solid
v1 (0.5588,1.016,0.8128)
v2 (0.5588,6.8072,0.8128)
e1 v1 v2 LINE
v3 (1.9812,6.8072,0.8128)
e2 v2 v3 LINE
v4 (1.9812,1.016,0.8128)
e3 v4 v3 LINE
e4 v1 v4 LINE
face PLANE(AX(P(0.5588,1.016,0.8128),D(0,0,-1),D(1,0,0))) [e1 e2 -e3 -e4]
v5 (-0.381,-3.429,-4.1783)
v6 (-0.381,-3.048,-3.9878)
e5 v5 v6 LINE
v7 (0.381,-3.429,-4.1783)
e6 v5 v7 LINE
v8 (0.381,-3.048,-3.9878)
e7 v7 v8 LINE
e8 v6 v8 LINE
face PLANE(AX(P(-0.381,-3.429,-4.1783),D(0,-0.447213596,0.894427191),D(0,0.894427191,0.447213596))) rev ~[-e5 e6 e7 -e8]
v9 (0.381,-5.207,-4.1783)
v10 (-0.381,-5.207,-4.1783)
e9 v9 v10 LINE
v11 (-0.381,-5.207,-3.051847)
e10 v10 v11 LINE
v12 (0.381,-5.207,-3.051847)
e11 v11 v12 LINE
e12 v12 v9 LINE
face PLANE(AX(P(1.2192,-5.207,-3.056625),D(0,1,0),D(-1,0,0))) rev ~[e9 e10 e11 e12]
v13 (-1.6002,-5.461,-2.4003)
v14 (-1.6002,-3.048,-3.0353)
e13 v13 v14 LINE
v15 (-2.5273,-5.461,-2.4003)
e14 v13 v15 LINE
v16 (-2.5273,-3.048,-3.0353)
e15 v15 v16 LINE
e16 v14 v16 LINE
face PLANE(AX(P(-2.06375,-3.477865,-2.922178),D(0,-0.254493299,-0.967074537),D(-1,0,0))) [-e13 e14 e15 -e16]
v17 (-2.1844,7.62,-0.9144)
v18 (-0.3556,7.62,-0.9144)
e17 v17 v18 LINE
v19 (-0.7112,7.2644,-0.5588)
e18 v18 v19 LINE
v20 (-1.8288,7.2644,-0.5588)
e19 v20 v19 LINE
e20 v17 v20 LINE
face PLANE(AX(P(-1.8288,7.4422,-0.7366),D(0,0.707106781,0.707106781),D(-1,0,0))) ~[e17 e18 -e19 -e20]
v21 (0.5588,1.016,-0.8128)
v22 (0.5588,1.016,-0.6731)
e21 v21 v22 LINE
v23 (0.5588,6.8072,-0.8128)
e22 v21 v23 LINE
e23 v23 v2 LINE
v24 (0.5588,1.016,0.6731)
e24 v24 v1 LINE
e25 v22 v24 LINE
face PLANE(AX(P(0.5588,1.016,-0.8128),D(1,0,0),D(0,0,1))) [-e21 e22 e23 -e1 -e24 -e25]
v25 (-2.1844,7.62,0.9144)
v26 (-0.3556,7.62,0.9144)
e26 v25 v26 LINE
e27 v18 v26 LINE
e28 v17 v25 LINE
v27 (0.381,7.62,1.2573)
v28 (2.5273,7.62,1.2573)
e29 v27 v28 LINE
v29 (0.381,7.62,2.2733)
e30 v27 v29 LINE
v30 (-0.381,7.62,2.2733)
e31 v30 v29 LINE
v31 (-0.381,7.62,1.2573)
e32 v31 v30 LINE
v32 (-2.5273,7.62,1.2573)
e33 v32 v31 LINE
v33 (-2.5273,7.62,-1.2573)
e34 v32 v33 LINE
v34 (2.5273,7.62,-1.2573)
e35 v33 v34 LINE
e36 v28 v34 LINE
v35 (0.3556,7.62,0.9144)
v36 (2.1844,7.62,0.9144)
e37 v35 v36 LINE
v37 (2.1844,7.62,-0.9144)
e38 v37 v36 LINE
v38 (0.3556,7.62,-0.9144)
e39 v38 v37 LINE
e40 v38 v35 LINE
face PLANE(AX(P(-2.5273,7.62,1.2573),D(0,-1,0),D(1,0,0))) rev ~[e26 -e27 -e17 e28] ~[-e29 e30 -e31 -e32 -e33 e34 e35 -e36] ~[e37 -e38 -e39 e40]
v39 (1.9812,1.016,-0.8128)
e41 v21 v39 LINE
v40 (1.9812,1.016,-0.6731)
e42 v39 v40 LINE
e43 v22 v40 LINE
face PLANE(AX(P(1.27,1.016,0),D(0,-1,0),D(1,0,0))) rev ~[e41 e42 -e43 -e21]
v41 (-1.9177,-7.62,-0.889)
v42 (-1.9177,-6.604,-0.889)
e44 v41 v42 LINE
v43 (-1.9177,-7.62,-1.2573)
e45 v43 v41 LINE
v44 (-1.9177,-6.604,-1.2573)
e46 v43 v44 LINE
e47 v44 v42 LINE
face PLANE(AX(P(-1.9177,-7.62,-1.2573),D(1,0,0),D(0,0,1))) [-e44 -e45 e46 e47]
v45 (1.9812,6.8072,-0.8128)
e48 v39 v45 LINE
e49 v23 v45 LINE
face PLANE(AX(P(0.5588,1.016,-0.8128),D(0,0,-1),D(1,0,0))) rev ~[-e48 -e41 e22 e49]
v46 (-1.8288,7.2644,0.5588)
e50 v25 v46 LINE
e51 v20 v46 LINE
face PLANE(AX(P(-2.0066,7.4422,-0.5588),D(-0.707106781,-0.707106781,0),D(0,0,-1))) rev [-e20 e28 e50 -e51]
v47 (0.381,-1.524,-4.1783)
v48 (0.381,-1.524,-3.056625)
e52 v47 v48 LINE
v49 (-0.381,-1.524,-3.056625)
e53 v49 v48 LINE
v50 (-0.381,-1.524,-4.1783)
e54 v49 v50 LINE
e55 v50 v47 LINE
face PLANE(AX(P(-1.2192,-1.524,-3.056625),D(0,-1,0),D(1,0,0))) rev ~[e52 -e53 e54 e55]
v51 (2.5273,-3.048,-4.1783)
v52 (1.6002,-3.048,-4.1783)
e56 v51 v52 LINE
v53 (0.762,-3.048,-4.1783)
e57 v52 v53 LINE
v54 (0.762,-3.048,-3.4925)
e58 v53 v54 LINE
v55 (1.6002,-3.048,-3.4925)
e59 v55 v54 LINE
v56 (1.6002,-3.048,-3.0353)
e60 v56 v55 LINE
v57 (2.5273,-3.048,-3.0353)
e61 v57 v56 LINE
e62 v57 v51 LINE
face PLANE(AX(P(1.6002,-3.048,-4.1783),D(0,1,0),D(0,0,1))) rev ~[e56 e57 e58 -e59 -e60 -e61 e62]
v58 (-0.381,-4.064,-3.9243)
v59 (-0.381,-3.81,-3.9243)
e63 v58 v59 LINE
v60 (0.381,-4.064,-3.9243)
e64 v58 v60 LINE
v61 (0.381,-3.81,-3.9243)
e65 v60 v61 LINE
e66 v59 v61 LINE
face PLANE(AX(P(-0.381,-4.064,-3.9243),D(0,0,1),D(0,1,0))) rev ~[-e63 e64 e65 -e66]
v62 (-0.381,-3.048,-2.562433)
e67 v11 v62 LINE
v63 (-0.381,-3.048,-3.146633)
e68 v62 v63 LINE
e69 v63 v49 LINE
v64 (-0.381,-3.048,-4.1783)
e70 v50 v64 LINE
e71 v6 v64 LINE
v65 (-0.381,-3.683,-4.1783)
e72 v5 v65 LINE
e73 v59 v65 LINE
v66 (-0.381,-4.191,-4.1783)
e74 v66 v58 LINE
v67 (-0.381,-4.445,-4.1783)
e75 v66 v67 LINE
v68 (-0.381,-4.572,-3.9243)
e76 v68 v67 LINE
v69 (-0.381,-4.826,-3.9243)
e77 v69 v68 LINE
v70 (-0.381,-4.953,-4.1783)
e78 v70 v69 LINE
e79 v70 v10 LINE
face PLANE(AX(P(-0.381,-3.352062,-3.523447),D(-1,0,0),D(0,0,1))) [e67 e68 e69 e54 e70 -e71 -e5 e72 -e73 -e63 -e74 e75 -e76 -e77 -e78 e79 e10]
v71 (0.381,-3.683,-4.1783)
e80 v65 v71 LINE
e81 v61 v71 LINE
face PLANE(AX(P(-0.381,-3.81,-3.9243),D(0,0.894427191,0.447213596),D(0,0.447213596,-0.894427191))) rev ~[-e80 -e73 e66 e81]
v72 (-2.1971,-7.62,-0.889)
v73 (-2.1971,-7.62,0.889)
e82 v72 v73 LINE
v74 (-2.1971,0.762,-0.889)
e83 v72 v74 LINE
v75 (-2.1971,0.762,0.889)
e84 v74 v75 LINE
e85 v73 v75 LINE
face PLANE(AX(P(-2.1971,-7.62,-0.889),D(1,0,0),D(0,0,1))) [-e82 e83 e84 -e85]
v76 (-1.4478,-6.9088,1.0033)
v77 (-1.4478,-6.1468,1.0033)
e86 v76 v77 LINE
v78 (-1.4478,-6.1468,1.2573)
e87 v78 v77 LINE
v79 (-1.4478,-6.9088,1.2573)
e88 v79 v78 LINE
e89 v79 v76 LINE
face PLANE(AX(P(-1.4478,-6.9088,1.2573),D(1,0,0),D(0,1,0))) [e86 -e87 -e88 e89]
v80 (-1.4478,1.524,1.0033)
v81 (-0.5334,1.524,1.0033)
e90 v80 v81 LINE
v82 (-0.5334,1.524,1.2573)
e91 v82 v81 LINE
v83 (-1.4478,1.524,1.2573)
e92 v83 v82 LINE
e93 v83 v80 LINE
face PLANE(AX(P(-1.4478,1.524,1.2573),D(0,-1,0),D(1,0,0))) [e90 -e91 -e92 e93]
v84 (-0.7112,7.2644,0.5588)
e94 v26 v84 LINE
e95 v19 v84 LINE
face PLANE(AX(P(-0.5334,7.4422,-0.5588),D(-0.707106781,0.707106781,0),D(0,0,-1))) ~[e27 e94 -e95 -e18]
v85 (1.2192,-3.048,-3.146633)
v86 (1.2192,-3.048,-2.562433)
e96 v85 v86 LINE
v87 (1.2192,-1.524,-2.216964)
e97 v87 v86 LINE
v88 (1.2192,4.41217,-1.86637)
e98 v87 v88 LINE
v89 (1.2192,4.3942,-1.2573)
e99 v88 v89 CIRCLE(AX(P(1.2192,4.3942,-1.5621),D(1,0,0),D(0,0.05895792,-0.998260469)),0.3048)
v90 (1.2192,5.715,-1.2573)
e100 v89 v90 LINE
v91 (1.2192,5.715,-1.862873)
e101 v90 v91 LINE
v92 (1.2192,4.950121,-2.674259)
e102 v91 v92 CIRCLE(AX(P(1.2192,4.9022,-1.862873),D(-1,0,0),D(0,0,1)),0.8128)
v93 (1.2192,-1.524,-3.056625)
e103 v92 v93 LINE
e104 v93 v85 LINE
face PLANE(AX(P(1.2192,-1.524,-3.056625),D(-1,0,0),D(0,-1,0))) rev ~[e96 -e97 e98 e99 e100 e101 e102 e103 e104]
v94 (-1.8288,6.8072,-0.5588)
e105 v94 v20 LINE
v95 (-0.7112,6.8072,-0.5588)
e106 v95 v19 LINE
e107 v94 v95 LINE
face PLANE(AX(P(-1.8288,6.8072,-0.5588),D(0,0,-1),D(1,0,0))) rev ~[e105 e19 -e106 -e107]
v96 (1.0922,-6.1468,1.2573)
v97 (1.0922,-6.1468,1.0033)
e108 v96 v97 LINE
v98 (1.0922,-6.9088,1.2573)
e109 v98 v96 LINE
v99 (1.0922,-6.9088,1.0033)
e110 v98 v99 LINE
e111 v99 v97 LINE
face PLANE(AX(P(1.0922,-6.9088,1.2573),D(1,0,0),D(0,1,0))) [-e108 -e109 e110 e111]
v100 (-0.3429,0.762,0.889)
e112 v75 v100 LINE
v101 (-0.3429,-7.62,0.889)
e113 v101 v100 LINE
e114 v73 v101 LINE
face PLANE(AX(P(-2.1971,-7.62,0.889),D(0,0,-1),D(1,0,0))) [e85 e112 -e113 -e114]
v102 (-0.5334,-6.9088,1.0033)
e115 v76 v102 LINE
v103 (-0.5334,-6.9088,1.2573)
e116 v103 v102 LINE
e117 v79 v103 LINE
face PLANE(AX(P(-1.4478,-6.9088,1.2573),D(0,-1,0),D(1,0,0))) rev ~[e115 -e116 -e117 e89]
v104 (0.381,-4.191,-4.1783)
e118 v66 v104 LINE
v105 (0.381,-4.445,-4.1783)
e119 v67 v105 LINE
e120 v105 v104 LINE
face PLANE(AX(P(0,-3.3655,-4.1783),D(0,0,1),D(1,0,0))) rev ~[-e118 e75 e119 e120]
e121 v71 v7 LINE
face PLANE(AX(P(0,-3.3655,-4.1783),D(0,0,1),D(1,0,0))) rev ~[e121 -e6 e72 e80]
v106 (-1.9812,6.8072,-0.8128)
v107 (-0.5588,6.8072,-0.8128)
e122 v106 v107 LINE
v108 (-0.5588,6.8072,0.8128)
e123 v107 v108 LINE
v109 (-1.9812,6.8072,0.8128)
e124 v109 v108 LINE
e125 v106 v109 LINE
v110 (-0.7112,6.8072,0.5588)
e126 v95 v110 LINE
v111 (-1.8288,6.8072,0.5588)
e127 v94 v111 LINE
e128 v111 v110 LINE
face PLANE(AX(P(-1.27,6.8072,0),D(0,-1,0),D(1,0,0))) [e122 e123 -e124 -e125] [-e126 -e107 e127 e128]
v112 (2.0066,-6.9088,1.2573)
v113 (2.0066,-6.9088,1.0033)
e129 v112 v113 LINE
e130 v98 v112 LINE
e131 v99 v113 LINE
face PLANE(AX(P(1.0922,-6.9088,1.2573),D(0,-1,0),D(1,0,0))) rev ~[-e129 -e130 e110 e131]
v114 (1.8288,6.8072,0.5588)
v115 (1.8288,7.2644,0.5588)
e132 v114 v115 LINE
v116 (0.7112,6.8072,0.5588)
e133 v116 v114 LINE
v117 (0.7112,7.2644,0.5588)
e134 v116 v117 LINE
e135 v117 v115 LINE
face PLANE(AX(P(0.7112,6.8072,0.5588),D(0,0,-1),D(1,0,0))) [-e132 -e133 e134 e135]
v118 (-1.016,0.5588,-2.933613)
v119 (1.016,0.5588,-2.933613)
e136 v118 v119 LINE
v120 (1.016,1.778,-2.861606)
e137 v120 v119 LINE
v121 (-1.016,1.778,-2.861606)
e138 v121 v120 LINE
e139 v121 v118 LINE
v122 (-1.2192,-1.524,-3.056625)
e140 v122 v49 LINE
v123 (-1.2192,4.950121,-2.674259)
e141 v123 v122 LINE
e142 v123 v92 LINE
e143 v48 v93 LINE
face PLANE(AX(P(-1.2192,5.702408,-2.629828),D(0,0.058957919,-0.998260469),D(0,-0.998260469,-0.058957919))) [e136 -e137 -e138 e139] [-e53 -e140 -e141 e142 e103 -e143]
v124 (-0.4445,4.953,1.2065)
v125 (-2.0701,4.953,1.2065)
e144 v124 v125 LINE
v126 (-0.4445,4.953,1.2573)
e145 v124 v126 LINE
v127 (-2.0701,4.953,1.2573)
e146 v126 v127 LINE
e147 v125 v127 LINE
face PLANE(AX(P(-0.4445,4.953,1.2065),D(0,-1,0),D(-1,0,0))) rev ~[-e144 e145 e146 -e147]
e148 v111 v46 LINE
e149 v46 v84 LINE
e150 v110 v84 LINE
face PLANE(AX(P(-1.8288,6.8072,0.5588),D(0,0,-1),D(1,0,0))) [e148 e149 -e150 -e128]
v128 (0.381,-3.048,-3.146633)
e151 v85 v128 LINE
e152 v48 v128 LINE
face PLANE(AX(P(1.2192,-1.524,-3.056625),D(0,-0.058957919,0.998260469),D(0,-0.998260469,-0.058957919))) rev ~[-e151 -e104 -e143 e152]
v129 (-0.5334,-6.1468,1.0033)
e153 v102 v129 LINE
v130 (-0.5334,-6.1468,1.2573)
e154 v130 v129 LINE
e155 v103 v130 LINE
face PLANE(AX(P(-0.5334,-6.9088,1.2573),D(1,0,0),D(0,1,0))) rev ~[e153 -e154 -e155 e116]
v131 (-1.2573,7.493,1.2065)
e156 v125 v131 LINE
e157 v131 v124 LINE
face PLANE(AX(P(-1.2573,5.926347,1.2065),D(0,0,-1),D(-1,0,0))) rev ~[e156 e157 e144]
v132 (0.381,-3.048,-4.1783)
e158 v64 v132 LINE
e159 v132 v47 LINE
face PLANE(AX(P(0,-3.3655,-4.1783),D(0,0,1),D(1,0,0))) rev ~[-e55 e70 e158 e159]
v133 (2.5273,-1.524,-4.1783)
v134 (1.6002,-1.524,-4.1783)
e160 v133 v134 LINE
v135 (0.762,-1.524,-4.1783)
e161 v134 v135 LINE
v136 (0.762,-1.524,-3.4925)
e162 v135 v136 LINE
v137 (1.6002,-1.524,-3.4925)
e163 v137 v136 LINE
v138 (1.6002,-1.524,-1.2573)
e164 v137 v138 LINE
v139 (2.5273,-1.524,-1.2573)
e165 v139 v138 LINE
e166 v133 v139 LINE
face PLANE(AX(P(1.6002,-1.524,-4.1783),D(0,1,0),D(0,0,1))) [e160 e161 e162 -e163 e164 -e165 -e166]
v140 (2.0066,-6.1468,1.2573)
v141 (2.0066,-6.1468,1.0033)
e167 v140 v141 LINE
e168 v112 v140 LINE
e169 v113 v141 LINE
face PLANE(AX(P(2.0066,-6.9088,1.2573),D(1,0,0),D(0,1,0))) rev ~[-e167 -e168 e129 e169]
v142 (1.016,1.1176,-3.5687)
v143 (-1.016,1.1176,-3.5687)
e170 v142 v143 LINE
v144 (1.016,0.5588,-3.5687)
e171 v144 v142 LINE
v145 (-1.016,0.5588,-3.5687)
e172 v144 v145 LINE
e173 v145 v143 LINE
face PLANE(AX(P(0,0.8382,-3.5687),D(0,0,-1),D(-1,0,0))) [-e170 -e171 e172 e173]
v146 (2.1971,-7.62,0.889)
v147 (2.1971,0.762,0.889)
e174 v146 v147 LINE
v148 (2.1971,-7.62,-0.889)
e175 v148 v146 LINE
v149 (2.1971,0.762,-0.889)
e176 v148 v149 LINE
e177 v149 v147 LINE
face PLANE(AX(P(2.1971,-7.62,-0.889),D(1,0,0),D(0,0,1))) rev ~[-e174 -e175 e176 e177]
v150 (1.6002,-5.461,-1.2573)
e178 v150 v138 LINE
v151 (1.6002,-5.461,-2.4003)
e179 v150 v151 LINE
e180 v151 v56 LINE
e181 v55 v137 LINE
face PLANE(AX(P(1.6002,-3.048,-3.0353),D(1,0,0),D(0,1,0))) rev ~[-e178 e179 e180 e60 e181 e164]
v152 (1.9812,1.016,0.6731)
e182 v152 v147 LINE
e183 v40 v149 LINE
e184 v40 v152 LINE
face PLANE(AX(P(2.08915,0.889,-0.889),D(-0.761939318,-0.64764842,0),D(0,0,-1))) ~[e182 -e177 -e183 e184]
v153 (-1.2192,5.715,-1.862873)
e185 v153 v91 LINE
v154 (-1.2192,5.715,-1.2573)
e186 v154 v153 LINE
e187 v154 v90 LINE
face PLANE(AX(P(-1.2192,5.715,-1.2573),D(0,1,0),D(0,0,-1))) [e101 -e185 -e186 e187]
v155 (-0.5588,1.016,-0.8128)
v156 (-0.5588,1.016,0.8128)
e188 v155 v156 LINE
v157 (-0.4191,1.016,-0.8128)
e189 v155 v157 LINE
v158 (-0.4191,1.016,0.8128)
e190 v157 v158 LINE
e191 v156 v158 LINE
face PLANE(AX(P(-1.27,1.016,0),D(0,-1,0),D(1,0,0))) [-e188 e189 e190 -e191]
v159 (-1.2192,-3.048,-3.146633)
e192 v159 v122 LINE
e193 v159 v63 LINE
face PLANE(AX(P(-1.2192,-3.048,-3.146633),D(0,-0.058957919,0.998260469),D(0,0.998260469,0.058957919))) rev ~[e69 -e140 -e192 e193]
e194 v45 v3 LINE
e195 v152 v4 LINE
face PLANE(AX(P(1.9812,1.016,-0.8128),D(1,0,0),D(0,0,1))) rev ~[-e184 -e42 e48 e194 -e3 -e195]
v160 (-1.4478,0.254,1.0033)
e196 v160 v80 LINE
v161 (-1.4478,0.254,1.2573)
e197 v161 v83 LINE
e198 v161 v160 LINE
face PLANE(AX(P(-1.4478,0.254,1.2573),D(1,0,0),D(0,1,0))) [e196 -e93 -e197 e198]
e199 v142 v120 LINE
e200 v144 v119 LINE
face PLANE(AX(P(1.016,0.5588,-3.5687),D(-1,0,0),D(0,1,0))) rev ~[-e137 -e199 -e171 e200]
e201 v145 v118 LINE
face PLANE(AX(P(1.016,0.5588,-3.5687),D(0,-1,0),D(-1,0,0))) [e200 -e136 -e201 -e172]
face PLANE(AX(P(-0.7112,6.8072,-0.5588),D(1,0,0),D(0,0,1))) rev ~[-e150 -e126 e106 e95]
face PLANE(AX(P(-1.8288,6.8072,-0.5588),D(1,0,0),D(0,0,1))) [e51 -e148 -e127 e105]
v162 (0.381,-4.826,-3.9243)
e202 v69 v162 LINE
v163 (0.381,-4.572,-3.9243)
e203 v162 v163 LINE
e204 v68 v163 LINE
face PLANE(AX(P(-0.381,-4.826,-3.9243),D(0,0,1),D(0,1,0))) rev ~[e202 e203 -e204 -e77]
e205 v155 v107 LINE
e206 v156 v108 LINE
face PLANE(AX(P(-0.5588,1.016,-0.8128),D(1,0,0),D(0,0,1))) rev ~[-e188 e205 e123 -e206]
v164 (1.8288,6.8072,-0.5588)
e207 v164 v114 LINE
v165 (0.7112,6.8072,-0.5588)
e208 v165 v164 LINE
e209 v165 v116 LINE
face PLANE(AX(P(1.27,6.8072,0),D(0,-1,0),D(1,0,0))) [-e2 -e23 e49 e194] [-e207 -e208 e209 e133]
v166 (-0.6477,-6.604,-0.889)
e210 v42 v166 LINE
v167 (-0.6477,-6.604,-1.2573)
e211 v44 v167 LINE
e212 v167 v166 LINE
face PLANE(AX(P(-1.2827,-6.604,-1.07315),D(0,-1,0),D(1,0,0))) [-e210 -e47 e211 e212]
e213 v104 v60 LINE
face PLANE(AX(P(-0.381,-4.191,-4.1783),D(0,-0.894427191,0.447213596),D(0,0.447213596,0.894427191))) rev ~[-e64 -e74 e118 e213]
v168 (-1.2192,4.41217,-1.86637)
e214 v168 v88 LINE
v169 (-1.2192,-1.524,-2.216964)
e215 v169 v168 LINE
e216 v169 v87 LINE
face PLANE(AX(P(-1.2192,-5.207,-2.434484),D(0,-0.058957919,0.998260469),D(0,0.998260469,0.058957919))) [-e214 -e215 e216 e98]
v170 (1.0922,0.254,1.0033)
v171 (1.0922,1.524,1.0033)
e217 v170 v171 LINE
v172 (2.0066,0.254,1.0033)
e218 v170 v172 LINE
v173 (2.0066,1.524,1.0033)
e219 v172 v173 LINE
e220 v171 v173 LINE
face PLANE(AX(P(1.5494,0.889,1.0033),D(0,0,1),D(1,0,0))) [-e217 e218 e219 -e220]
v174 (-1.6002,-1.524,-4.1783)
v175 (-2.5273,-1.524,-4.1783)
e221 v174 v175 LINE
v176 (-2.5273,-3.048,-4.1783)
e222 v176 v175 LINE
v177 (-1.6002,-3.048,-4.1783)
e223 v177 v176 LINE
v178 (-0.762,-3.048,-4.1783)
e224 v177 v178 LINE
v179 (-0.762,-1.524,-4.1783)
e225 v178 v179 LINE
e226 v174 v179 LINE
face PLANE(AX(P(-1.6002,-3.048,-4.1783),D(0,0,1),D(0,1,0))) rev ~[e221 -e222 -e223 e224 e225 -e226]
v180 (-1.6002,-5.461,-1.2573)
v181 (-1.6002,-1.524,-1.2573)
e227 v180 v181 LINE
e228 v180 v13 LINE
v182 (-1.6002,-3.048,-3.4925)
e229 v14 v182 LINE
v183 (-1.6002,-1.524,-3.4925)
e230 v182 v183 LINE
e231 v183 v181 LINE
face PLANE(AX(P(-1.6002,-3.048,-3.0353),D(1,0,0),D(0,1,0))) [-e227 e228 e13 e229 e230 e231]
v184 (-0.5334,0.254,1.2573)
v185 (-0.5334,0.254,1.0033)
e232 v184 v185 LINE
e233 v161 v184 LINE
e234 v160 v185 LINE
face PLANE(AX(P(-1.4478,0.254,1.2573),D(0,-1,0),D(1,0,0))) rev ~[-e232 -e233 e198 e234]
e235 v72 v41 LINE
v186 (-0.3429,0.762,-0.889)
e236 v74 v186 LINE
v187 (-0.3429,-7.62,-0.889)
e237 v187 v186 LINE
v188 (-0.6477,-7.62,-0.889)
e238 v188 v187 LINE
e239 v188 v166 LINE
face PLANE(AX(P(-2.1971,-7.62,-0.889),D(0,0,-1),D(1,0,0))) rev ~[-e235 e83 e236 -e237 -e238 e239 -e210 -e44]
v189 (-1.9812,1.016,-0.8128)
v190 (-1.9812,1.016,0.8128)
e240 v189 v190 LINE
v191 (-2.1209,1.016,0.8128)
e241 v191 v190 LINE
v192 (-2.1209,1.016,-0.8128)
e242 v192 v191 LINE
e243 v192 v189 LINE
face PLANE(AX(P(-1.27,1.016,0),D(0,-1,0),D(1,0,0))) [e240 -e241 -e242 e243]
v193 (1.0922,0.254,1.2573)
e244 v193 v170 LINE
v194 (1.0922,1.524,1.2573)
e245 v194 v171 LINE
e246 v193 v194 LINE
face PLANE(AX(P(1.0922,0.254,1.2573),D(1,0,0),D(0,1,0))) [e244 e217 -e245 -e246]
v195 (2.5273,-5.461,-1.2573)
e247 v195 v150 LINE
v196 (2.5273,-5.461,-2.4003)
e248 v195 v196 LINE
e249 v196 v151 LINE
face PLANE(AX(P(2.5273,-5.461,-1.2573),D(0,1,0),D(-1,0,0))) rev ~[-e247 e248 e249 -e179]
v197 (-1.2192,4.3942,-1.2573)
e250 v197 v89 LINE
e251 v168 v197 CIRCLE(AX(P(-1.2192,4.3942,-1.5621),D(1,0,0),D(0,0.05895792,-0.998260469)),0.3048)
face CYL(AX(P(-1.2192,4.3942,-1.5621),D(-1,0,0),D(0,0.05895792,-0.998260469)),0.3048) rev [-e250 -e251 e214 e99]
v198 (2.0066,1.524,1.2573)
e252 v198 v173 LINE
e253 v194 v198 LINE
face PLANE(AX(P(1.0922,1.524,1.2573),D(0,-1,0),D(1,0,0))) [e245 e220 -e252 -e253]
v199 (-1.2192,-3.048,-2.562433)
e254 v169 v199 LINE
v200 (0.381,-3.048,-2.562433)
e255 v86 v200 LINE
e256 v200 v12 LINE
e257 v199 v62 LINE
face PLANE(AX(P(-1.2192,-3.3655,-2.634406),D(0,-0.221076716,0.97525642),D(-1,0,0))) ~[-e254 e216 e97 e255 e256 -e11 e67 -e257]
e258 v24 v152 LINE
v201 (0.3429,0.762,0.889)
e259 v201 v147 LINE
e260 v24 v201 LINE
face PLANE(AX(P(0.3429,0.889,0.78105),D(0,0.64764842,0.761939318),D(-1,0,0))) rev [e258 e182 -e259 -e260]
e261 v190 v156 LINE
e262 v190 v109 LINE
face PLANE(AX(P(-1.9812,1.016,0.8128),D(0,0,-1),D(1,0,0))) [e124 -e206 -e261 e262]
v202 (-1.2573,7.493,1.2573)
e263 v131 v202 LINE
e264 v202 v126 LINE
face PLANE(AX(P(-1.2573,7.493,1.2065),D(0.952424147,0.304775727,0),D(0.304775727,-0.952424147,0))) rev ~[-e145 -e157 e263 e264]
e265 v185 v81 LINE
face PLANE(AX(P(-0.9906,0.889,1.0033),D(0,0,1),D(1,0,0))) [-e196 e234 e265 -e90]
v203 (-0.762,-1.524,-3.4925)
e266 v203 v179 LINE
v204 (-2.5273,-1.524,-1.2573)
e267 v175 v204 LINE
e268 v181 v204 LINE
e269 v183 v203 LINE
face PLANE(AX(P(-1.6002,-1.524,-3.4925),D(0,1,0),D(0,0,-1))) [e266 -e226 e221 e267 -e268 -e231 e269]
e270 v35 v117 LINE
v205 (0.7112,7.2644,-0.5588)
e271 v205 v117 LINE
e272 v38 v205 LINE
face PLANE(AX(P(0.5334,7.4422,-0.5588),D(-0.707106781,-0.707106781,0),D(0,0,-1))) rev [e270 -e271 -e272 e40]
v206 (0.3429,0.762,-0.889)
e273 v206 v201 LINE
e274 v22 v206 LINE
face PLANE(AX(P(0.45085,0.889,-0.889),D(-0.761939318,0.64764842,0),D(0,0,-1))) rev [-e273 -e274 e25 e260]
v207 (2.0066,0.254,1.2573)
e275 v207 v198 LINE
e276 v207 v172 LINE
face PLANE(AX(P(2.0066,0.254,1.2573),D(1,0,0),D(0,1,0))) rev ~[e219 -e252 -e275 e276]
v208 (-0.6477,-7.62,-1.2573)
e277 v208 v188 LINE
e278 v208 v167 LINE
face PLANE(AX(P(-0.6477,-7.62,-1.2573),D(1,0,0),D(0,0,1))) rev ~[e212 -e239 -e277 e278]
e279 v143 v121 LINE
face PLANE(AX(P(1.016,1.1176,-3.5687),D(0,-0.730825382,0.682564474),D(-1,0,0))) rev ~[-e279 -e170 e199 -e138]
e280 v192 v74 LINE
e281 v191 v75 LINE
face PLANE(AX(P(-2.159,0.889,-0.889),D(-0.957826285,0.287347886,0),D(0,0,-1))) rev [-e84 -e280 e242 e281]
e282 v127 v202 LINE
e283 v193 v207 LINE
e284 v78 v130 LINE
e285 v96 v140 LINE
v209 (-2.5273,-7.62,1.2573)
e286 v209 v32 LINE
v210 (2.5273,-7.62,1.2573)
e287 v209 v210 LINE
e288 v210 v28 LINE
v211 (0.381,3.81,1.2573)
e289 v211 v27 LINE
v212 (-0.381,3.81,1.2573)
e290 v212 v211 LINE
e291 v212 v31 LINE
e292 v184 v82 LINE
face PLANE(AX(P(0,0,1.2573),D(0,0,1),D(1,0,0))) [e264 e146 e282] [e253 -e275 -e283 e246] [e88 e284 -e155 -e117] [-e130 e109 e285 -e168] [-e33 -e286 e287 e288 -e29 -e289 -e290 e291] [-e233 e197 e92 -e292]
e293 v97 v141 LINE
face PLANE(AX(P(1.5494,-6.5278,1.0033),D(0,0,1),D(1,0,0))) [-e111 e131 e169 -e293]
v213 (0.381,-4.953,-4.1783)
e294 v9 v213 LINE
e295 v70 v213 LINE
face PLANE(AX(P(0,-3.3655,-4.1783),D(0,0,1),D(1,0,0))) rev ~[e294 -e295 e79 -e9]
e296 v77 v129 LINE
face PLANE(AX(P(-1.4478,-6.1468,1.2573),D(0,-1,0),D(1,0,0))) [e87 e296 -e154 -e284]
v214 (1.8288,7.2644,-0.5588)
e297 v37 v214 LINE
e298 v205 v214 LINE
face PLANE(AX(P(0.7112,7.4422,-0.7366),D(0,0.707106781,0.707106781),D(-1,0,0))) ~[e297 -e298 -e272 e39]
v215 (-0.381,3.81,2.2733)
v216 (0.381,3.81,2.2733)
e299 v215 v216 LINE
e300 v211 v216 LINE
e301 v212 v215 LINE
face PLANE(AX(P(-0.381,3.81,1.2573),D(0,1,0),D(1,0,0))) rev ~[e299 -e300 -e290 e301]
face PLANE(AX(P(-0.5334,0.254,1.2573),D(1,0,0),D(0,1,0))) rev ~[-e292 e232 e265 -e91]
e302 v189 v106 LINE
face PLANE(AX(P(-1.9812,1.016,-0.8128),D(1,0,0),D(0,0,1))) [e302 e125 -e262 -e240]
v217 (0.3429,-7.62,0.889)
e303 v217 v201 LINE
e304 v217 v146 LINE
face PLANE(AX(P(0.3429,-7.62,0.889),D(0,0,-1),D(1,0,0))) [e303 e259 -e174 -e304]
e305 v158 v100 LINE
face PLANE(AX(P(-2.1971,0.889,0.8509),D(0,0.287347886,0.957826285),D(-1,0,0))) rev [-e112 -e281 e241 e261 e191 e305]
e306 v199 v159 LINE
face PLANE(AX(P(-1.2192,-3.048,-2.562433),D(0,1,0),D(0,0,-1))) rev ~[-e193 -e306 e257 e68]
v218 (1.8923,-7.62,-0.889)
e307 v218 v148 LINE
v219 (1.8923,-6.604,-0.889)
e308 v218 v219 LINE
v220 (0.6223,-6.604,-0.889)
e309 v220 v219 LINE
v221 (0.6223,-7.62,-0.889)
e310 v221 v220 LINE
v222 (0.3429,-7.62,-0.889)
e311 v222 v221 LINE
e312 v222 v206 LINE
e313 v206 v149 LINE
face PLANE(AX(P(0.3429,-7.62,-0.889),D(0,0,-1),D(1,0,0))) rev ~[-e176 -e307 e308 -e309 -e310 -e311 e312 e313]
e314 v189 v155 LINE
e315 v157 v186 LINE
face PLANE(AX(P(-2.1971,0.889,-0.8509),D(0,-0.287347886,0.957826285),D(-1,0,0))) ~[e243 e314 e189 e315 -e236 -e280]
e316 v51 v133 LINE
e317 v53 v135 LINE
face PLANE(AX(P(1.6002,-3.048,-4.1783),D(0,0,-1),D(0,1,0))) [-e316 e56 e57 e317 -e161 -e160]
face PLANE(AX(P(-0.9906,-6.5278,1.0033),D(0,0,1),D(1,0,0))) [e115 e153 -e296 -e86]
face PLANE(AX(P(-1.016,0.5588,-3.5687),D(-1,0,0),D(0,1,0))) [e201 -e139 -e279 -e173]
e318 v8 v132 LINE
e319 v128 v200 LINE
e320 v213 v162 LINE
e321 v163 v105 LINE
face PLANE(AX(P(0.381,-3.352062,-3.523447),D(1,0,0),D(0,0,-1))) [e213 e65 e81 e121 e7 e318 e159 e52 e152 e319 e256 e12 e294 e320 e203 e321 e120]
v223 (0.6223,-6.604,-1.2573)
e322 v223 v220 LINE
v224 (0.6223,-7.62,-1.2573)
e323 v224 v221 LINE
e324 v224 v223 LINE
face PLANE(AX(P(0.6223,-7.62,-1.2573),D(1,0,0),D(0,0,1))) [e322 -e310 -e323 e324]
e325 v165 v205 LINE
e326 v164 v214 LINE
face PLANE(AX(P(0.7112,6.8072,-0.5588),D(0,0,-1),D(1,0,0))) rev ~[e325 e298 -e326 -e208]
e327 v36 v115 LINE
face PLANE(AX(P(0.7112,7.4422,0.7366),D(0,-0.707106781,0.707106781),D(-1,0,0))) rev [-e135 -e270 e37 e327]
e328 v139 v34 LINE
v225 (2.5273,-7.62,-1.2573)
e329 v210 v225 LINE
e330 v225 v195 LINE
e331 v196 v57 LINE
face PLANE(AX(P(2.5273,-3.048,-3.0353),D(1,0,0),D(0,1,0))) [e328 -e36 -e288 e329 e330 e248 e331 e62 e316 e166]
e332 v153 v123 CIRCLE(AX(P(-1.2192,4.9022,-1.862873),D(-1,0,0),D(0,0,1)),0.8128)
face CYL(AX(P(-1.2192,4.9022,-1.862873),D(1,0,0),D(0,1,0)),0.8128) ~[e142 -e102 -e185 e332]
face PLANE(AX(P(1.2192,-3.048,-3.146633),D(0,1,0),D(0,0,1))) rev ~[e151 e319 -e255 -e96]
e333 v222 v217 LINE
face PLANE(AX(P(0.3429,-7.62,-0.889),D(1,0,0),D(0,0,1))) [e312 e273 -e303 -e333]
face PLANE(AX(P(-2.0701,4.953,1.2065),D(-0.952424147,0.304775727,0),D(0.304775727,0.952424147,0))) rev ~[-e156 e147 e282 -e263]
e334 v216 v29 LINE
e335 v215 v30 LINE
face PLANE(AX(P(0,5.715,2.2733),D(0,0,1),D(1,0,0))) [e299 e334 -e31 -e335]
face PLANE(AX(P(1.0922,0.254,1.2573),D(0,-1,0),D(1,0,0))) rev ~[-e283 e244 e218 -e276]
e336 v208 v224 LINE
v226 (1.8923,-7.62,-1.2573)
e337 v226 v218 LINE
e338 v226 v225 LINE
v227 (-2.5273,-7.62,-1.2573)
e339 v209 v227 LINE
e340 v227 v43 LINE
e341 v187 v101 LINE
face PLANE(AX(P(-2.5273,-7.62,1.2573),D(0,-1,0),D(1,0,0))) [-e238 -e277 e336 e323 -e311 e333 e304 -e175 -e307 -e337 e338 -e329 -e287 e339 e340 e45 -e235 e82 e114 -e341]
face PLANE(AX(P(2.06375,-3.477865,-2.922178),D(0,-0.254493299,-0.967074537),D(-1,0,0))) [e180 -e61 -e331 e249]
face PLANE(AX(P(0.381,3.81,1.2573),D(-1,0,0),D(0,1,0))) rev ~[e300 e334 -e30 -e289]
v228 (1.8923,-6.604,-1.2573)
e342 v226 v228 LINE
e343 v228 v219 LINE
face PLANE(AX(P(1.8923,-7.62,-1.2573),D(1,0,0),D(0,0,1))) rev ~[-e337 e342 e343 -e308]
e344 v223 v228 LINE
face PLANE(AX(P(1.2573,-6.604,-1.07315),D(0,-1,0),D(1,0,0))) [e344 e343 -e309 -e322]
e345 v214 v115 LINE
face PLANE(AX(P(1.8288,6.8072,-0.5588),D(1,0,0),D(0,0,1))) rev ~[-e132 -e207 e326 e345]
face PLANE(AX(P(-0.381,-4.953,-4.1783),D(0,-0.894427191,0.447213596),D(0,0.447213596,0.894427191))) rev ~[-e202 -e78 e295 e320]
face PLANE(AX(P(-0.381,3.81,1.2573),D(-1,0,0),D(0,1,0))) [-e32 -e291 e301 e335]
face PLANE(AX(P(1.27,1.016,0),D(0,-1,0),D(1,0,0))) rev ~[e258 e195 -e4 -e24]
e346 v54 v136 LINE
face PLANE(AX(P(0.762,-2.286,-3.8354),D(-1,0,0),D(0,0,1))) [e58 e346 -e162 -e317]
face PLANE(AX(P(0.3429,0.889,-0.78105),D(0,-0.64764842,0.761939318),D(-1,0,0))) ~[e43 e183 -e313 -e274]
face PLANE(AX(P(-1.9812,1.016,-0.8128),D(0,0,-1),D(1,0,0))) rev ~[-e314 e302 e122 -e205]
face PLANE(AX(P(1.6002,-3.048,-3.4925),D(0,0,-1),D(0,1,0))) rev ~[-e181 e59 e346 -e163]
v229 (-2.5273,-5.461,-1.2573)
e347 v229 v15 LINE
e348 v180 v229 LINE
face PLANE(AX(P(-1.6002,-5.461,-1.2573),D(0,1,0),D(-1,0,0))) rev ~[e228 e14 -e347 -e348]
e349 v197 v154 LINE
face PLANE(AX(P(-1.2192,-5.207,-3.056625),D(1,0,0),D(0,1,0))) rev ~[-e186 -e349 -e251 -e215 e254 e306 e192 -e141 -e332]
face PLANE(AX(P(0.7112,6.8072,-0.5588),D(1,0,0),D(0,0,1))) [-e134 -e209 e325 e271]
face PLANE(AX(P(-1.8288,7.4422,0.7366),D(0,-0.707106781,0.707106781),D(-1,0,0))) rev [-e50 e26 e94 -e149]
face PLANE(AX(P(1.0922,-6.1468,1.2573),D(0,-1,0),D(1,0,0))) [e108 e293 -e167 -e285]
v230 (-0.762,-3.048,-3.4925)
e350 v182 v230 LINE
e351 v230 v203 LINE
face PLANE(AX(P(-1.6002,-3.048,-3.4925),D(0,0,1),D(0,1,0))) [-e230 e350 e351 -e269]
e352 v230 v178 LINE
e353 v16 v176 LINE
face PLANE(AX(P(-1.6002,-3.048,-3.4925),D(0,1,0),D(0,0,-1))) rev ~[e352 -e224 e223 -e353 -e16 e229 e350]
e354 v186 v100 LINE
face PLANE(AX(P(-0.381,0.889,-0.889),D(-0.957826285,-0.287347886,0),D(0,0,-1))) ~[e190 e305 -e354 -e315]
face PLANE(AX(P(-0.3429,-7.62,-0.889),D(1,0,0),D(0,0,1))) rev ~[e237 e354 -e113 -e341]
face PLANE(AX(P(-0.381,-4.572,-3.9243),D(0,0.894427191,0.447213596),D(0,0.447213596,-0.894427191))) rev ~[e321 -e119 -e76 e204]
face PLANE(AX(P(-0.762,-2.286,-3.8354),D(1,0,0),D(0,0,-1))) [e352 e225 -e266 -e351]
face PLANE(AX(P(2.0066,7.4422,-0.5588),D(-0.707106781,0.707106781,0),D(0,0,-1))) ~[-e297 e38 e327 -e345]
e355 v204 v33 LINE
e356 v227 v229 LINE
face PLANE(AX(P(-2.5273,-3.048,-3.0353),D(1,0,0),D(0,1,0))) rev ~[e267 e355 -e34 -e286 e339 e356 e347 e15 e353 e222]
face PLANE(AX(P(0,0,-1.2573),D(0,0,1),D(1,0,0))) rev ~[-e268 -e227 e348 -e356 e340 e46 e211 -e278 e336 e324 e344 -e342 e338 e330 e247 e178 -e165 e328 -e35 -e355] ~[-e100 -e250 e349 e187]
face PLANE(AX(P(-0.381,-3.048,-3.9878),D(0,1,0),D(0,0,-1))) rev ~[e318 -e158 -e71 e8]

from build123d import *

# Parameters (mm, degrees)
SKETCH1_W            = 5.0546
SKETCH1_H            = 15.24
BOSS_EXTRUDE1_DEPTH  = 2.514600001
CUT_EXTRUDE1_REACH   = 2.051
BOSS_EXTRUDE2_DEPTH  = 2.4384
CHAMFER1_SIZE        = 3.689417857
CHAMFER1_SIZE2       = 0.617363155
BOSS_EXTRUDE3_DEPTH  = 1.121675474
DRAFT1_ANGLE         = 3.38
FILLET1_R            = 0.8128
CUT_EXTRUDE2_DEPTH   = 0.8382
CUT_EXTRUDE3_DEPTH   = 0.8382
BOSS_EXTRUDE4_REACH  = 6.826
SKETCH7_W            = 2.032
SKETCH7_H            = 0.5588
DRAFT2_ANGLE         = 43.044366599
SKETCH8_W            = 0.9271
SKETCH8_H            = 3.937
BOSS_EXTRUDE5_DEPTH  = 1.778
SKETCH9_W            = 0.9271
SKETCH9_H            = 3.937
BOSS_EXTRUDE6_DEPTH  = 1.778
SKETCH10_W           = 0.9271
SKETCH10_H           = 1.524
BOSS_EXTRUDE7_DEPTH  = 1.143
SKETCH11_W           = 0.9271
SKETCH11_H           = 1.524
BOSS_EXTRUDE8_DEPTH  = 1.143
SKETCH12_W           = 0.6858
SKETCH12_H           = 1.524
BOSS_EXTRUDE9_DEPTH  = 0.8382
SKETCH13_W           = 0.6858
SKETCH13_H           = 1.524
BOSS_EXTRUDE10_DEPTH = 0.8382
DRAFT3_ANGLE         = 14.743562836
DRAFT4_ANGLE         = 14.743562836
CUT_EXTRUDE4_DEPTH   = 0.762
CUT_EXTRUDE5_DEPTH   = 0.762
CUT_EXTRUDE6_DEPTH   = 0.762
SKETCH17_W           = 0.762
SKETCH17_H           = 3.81
BOSS_EXTRUDE11_DEPTH = 1.016
SKETCH18_W           = 0.9144
SKETCH18_H           = 1.27
CUT_EXTRUDE7_DEPTH   = 0.254
SKETCH19_W           = 0.9144
SKETCH19_H           = 0.762
CUT_EXTRUDE8_DEPTH   = 0.254
SKETCH20_W           = 0.9144
SKETCH20_H           = 1.27
CUT_EXTRUDE9_DEPTH   = 0.254
SKETCH21_W           = 0.9144
SKETCH21_H           = 0.762
CUT_EXTRUDE10_DEPTH  = 0.254
SKETCH22_W           = 1.8542
SKETCH22_H           = 1.778
CUT_EXTRUDE11_DEPTH  = 8.636
SKETCH23_W           = 1.8542
SKETCH23_H           = 1.778
CUT_EXTRUDE12_DEPTH  = 8.636
CHAMFER2_SIZE        = 0.0762
CHAMFER2_SIZE2       = 0.254
CHAMFER3_SIZE        = 0.2159
CHAMFER3_SIZE2       = 0.254
SKETCH24_W           = 1.27
SKETCH24_H           = 0.3683
CUT_EXTRUDE13_DEPTH  = 1.016
SKETCH25_W           = 1.27
SKETCH25_H           = 0.3683
CUT_EXTRUDE14_DEPTH  = 1.016
SKETCH26_W           = 1.4224
SKETCH26_H           = 1.6256
CUT_EXTRUDE15_DEPTH  = 5.7912
SKETCH27_W           = 1.4224
SKETCH27_H           = 1.6256
CUT_EXTRUDE16_DEPTH  = 5.7912
SKETCH28_W           = 1.1176
SKETCH28_H           = 1.1176
CUT_EXTRUDE17_DEPTH  = 1.8128
SKETCH29_W           = 1.1176
SKETCH29_H           = 1.1176
CUT_EXTRUDE18_DEPTH  = 1.8128
CHAMFER4_SIZE        = 0.3556
CHAMFER5_SIZE        = 0.3556


with BuildPart() as part:
    # Sketch1 → Boss-Extrude1 (new body)
    with BuildSketch(Plane.XY.offset(1.2573)):
        Rectangle(SKETCH1_W, SKETCH1_H)
    extrude(amount=-BOSS_EXTRUDE1_DEPTH)

    # Sketch2 → Cut-Extrude1 (cut, up to next)
    with BuildSketch(Plane(origin=(0, 0, 1.2065), x_dir=(-1, 0, 0), z_dir=(0, 0, -1)), mode=Mode.PRIVATE) as cut_extrude1_sk1:
        Polygon((0.4445, 4.953), (2.0701, 4.953), (1.2573, 7.493), align=None)
    cut_extrude1_tool1 = extrude(cut_extrude1_sk1.sketch, amount=-CUT_EXTRUDE1_REACH, mode=Mode.PRIVATE) & part.part
    add(cut_extrude1_tool1.solids().sort_by_distance((-1.2573, 5.799667, 1.2065))[0], mode=Mode.SUBTRACT)

    # Sketch3 → Boss-Extrude2 (add)
    with BuildSketch(Plane(origin=(-1.2192, 0, 0), x_dir=(0, -1, 0), z_dir=(-1, 0, 0))):
        with BuildLine():
            Line((5.207, -2.434484307), (-4.412170374, -1.866369791))
            ThreePointArc((-4.412170374, -1.866369791), (-4.698867419, -1.553110903), (-4.394200001, -1.2573))
            Line((-4.394200001, -1.2573), (-5.715, -1.2573))
            Line((-5.715, -1.2573), (-5.715, -3.056624526))
            Line((-5.715, -3.056624526), (3.048, -3.056624526))
            Line((3.048, -3.056624526), (3.429, -3.056624526))
            Line((3.429, -3.056624526), (3.683, -3.056624526))
            Line((3.683, -3.056624526), (4.191, -3.056624526))
            Line((4.191, -3.056624526), (4.445, -3.056624526))
            Line((4.445, -3.056624526), (4.953, -3.056624526))
            Line((4.953, -3.056624526), (5.207, -3.056624526))
            Line((5.207, -3.056624526), (5.207, -2.434484307))
        make_face()
    extrude(amount=-BOSS_EXTRUDE2_DEPTH)

    # Chamfer1
    chamfer1_edges = [part.edges().sort_by_distance(p)[0] for p in [
        (0, -5.207, -2.434484307),
    ]]
    chamfer1_side = [part.faces().sort_by_distance(p)[0] for p in [
        (0, -0.397414813, -2.150427049),
    ]]
    chamfer(chamfer1_edges, length=CHAMFER1_SIZE, length2=CHAMFER1_SIZE2, reference=chamfer1_side[0])

    # Sketch4 → Boss-Extrude3 (add)
    with BuildSketch(Plane(origin=(0, 0, -3.056624526), x_dir=(-1, 0, 0), z_dir=(0, 0, -1))):
        Polygon((1.2192, -3.683000003), (1.2192, -4.191000003), (1.2192, -4.445000003), (1.2192, -4.953000003), (1.2192, -5.207000003), (0.381, -5.207000003), (-0.381, -5.207000003), (-1.2192, -5.207000003), (-1.2192, -4.953000003), (-1.2192, -4.445000003), (-1.2192, -4.191000003), (-1.2192, -3.683000003), (-1.2192, -3.429000003), (-1.2192, -3.048000003), (-1.2192, -1.524000003), (-0.381, -1.524000003), (0.381, -1.524000003), (1.2192, -1.524000003), (1.2192, -3.048000003), (1.2192, -3.429000003), align=None)
    extrude(amount=BOSS_EXTRUDE3_DEPTH)

    # Draft1
    draft1_faces = [part.faces().sort_by_distance(p)[0] for p in [
        (0, 2.095499999, -3.056624526),
    ]]
    draft(draft1_faces, Plane(origin=(1.2192, -1.524000003, -4.1783), x_dir=(1, 0, 0), z_dir=(0, 1, 0)), DRAFT1_ANGLE)

    # Fillet1
    fillet1_edges = [part.edges().sort_by_distance(p)[0] for p in [
        (0, 5.715, -2.629084434),
    ]]
    fillet(fillet1_edges, radius=FILLET1_R)

    # Sketch5 → Cut-Extrude2 (cut)
    with BuildSketch(Plane.ZY.offset(1.2192)):
        Polygon((-4.1783, -1.523999999), (-4.1783, -3.048), (-4.1783, -3.429), (-4.1783, -3.683), (-4.1783, -4.191), (-4.1783, -4.445), (-4.1783, -4.953), (-4.1783, -5.207), (-3.051847462, -5.207), (-2.562432966, -3.048), (-3.146632966, -3.048), (-3.056624525, -1.523999999), align=None)
    extrude(amount=-CUT_EXTRUDE2_DEPTH, mode=Mode.SUBTRACT)

    # Sketch6 → Cut-Extrude3 (cut)
    with BuildSketch(Plane(origin=(1.2192, 0, 0), x_dir=(0, 0, -1), z_dir=(1, 0, 0))):
        Polygon((4.1783, -3.429), (4.1783, -3.048), (4.1783, -1.524000001), (3.056624525, -1.524000001), (3.146632966, -3.048), (2.562432966, -3.048), (3.051847462, -5.207), (4.1783, -5.207), (4.1783, -4.953), (4.1783, -4.445), (4.1783, -4.191), (4.1783, -3.683), align=None)
    extrude(amount=-CUT_EXTRUDE3_DEPTH, mode=Mode.SUBTRACT)

    # Sketch7 → Boss-Extrude4 (add, up to next)
    with BuildSketch(Plane(origin=(0, 0, -3.5687), x_dir=(-1, 0, 0), z_dir=(0, 0, -1)), mode=Mode.PRIVATE) as boss_extrude4_sk1:
        with Locations((0, 0.8382)):
            Rectangle(SKETCH7_W, SKETCH7_H)
    boss_extrude4_tool1 = extrude(boss_extrude4_sk1.sketch, amount=-BOSS_EXTRUDE4_REACH, mode=Mode.PRIVATE) - part.part
    add(boss_extrude4_tool1.solids().sort_by_distance((0, 0.8382, -3.5687))[0])

    # Draft2
    draft2_faces = [part.faces().sort_by_distance(p)[0] for p in [
        (0, 1.1176, -3.234654948),
    ]]
    draft(draft2_faces, Plane(origin=(0, 0, -3.5687), x_dir=(-1, 0, 0), z_dir=(0, 0, -1)), DRAFT2_ANGLE)

    # Sketch8 → Boss-Extrude5 (add)
    with BuildSketch(Plane(origin=(0, 0, -1.257300001), x_dir=(-1, 0, 0), z_dir=(0, 0, -1))):
        with Locations((-2.06375, -3.4925)):
            Rectangle(SKETCH8_W, SKETCH8_H)
    extrude(amount=BOSS_EXTRUDE5_DEPTH)

    # Sketch9 → Boss-Extrude6 (add)
    with BuildSketch(Plane(origin=(0, 0, -1.257300001), x_dir=(-1, 0, 0), z_dir=(0, 0, -1))):
        with Locations((2.06375, -3.4925)):
            Rectangle(SKETCH9_W, SKETCH9_H)
    extrude(amount=BOSS_EXTRUDE6_DEPTH)

    # Sketch10 → Boss-Extrude7 (add)
    with BuildSketch(Plane(origin=(0, 0, -3.035300001), x_dir=(-1, 0, 0), z_dir=(0, 0, -1))):
        with Locations((2.06375, -2.286)):
            Rectangle(SKETCH10_W, SKETCH10_H)
    extrude(amount=BOSS_EXTRUDE7_DEPTH)

    # Sketch11 → Boss-Extrude8 (add)
    with BuildSketch(Plane(origin=(0, 0, -3.035300001), x_dir=(-1, 0, 0), z_dir=(0, 0, -1))):
        with Locations((-2.06375, -2.286)):
            Rectangle(SKETCH11_W, SKETCH11_H)
    extrude(amount=BOSS_EXTRUDE8_DEPTH)

    # Sketch12 → Boss-Extrude9 (add)
    with BuildSketch(Plane.ZY.offset(-1.6002)):
        with Locations((-3.8354, -2.286)):
            Rectangle(SKETCH12_W, SKETCH12_H)
    extrude(amount=BOSS_EXTRUDE9_DEPTH)

    # Sketch13 → Boss-Extrude10 (add)
    with BuildSketch(Plane(origin=(-1.6002, 0, 0), x_dir=(0, 0, -1), z_dir=(1, 0, 0))):
        with Locations((3.8354, -2.286)):
            Rectangle(SKETCH13_W, SKETCH13_H)
    extrude(amount=BOSS_EXTRUDE10_DEPTH)

    # Draft3
    draft3_faces = [part.faces().sort_by_distance(p)[0] for p in [
        (-2.06375, -4.2545, -3.035300001),
    ]]
    draft(draft3_faces, Plane(origin=(-2.5273, -3.048, -4.178300001), x_dir=(-1, 0, 0), z_dir=(0, -1, 0)), DRAFT3_ANGLE)

    # Draft4
    draft4_faces = [part.faces().sort_by_distance(p)[0] for p in [
        (2.06375, -4.2545, -3.035300001),
    ]]
    draft(draft4_faces, Plane(origin=(1.6002, -3.048, -4.178300001), x_dir=(0, 0, -1), z_dir=(0, -1, 0)), DRAFT4_ANGLE)

    # Sketch14 → Cut-Extrude4 (cut)
    with BuildSketch(Plane.ZY.offset(0.381)):
        Polygon((-4.1783, -3.429), (-3.9878, -3.048), (-4.1783, -3.048), align=None)
    extrude(amount=-CUT_EXTRUDE4_DEPTH, mode=Mode.SUBTRACT)

    # Sketch15 → Cut-Extrude5 (cut)
    with BuildSketch(Plane.ZY.offset(0.381)):
        Polygon((-4.1783, -4.191), (-3.9243, -4.064), (-3.9243, -3.81), (-4.1783, -3.683), align=None)
    extrude(amount=-CUT_EXTRUDE5_DEPTH, mode=Mode.SUBTRACT)

    # Sketch16 → Cut-Extrude6 (cut)
    with BuildSketch(Plane.ZY.offset(0.381)):
        Polygon((-4.1783, -4.953), (-3.9243, -4.826), (-3.9243, -4.572), (-4.1783, -4.445), align=None)
    extrude(amount=-CUT_EXTRUDE6_DEPTH, mode=Mode.SUBTRACT)

    # Sketch17 → Boss-Extrude11 (add)
    with BuildSketch(Plane.XY.offset(1.2573)):
        with Locations((0, 5.715)):
            Rectangle(SKETCH17_W, SKETCH17_H)
    extrude(amount=BOSS_EXTRUDE11_DEPTH)

    # Sketch18 → Cut-Extrude7 (cut)
    with BuildSketch(Plane.XY.offset(1.2573)):
        with Locations((1.5494, 0.889)):
            Rectangle(SKETCH18_W, SKETCH18_H)
    extrude(amount=-CUT_EXTRUDE7_DEPTH, mode=Mode.SUBTRACT)

    # Sketch19 → Cut-Extrude8 (cut)
    with BuildSketch(Plane.XY.offset(1.2573)):
        with Locations((1.5494, -6.5278)):
            Rectangle(SKETCH19_W, SKETCH19_H)
    extrude(amount=-CUT_EXTRUDE8_DEPTH, mode=Mode.SUBTRACT)

    # Sketch20 → Cut-Extrude9 (cut)
    with BuildSketch(Plane.XY.offset(1.2573)):
        with Locations((-0.9906, 0.889)):
            Rectangle(SKETCH20_W, SKETCH20_H)
    extrude(amount=-CUT_EXTRUDE9_DEPTH, mode=Mode.SUBTRACT)

    # Sketch21 → Cut-Extrude10 (cut)
    with BuildSketch(Plane.XY.offset(1.2573)):
        with Locations((-0.9906, -6.5278)):
            Rectangle(SKETCH21_W, SKETCH21_H)
    extrude(amount=-CUT_EXTRUDE10_DEPTH, mode=Mode.SUBTRACT)

    # Sketch22 → Cut-Extrude11 (cut)
    with BuildSketch(Plane.XZ.offset(7.62)):
        with Locations((-1.27, 0)):
            Rectangle(SKETCH22_W, SKETCH22_H)
    extrude(amount=-CUT_EXTRUDE11_DEPTH, mode=Mode.SUBTRACT)

    # Sketch23 → Cut-Extrude12 (cut)
    with BuildSketch(Plane.XZ.offset(7.62)):
        with Locations((1.27, 0)):
            Rectangle(SKETCH23_W, SKETCH23_H)
    extrude(amount=-CUT_EXTRUDE12_DEPTH, mode=Mode.SUBTRACT)

    # Chamfer2
    chamfer2_edges = [part.edges().sort_by_distance(p)[0] for p in [
        (-0.3429, 1.016, 0),
        (-1.27, 1.016, -0.889),
        (-2.1971, 1.016, 0),
        (-1.27, 1.016, 0.889),
    ]]
    chamfer2_side = [part.faces().sort_by_distance(p)[0] for p in [
        (-1.27, 1.016, 0),
    ]]
    chamfer(chamfer2_edges, length=CHAMFER2_SIZE, length2=CHAMFER2_SIZE2, reference=chamfer2_side[0])

    # Chamfer3
    chamfer3_edges = [part.edges().sort_by_distance(p)[0] for p in [
        (1.27, 1.016, 0.889),
        (2.1971, 1.016, 0),
        (1.27, 1.016, -0.889),
        (0.3429, 1.016, 0),
    ]]
    chamfer3_side = [part.faces().sort_by_distance(p)[0] for p in [
        (1.27, 1.016, 0),
    ]]
    chamfer(chamfer3_edges, length=CHAMFER3_SIZE, length2=CHAMFER3_SIZE2, reference=chamfer3_side[0])

    # Sketch24 → Cut-Extrude13 (cut)
    with BuildSketch(Plane.XZ.offset(7.62)):
        with Locations((-1.2827, -1.07315)):
            Rectangle(SKETCH24_W, SKETCH24_H)
    extrude(amount=-CUT_EXTRUDE13_DEPTH, mode=Mode.SUBTRACT)

    # Sketch25 → Cut-Extrude14 (cut)
    with BuildSketch(Plane.XZ.offset(7.62)):
        with Locations((1.2573, -1.07315)):
            Rectangle(SKETCH25_W, SKETCH25_H)
    extrude(amount=-CUT_EXTRUDE14_DEPTH, mode=Mode.SUBTRACT)

    # Sketch26 → Cut-Extrude15 (cut)
    with BuildSketch(Plane.XZ.offset(-1.016)):
        with Locations((-1.27, 0)):
            Rectangle(SKETCH26_W, SKETCH26_H)
    extrude(amount=-CUT_EXTRUDE15_DEPTH, mode=Mode.SUBTRACT)

    # Sketch27 → Cut-Extrude16 (cut)
    with BuildSketch(Plane.XZ.offset(-1.016)):
        with Locations((1.27, 0)):
            Rectangle(SKETCH27_W, SKETCH27_H)
    extrude(amount=-CUT_EXTRUDE16_DEPTH, mode=Mode.SUBTRACT)

    # Sketch28 → Cut-Extrude17 (cut, through all)
    with BuildSketch(Plane.XZ.offset(-6.8072)):
        with Locations((1.27, 0)):
            Rectangle(SKETCH28_W, SKETCH28_H)
    extrude(amount=-CUT_EXTRUDE17_DEPTH, mode=Mode.SUBTRACT)

    # Sketch29 → Cut-Extrude18 (cut, through all)
    with BuildSketch(Plane.XZ.offset(-6.8072)):
        with Locations((-1.27, 0)):
            Rectangle(SKETCH29_W, SKETCH29_H)
    extrude(amount=-CUT_EXTRUDE18_DEPTH, mode=Mode.SUBTRACT)

    # Chamfer4
    chamfer4_edges = [part.edges().sort_by_distance(p)[0] for p in [
        (1.27, 7.62, -0.5588),
        (0.7112, 7.62, 0),
        (1.27, 7.62, 0.5588),
        (1.8288, 7.62, 0),
    ]]
    chamfer(chamfer4_edges, length=CHAMFER4_SIZE)

    # Chamfer5
    chamfer5_edges = [part.edges().sort_by_distance(p)[0] for p in [
        (-0.7112, 7.62, 0),
        (-1.27, 7.62, -0.5588),
        (-1.8288, 7.62, 0),
        (-1.27, 7.62, 0.5588),
    ]]
    chamfer(chamfer5_edges, length=CHAMFER5_SIZE)


solid = part.part
